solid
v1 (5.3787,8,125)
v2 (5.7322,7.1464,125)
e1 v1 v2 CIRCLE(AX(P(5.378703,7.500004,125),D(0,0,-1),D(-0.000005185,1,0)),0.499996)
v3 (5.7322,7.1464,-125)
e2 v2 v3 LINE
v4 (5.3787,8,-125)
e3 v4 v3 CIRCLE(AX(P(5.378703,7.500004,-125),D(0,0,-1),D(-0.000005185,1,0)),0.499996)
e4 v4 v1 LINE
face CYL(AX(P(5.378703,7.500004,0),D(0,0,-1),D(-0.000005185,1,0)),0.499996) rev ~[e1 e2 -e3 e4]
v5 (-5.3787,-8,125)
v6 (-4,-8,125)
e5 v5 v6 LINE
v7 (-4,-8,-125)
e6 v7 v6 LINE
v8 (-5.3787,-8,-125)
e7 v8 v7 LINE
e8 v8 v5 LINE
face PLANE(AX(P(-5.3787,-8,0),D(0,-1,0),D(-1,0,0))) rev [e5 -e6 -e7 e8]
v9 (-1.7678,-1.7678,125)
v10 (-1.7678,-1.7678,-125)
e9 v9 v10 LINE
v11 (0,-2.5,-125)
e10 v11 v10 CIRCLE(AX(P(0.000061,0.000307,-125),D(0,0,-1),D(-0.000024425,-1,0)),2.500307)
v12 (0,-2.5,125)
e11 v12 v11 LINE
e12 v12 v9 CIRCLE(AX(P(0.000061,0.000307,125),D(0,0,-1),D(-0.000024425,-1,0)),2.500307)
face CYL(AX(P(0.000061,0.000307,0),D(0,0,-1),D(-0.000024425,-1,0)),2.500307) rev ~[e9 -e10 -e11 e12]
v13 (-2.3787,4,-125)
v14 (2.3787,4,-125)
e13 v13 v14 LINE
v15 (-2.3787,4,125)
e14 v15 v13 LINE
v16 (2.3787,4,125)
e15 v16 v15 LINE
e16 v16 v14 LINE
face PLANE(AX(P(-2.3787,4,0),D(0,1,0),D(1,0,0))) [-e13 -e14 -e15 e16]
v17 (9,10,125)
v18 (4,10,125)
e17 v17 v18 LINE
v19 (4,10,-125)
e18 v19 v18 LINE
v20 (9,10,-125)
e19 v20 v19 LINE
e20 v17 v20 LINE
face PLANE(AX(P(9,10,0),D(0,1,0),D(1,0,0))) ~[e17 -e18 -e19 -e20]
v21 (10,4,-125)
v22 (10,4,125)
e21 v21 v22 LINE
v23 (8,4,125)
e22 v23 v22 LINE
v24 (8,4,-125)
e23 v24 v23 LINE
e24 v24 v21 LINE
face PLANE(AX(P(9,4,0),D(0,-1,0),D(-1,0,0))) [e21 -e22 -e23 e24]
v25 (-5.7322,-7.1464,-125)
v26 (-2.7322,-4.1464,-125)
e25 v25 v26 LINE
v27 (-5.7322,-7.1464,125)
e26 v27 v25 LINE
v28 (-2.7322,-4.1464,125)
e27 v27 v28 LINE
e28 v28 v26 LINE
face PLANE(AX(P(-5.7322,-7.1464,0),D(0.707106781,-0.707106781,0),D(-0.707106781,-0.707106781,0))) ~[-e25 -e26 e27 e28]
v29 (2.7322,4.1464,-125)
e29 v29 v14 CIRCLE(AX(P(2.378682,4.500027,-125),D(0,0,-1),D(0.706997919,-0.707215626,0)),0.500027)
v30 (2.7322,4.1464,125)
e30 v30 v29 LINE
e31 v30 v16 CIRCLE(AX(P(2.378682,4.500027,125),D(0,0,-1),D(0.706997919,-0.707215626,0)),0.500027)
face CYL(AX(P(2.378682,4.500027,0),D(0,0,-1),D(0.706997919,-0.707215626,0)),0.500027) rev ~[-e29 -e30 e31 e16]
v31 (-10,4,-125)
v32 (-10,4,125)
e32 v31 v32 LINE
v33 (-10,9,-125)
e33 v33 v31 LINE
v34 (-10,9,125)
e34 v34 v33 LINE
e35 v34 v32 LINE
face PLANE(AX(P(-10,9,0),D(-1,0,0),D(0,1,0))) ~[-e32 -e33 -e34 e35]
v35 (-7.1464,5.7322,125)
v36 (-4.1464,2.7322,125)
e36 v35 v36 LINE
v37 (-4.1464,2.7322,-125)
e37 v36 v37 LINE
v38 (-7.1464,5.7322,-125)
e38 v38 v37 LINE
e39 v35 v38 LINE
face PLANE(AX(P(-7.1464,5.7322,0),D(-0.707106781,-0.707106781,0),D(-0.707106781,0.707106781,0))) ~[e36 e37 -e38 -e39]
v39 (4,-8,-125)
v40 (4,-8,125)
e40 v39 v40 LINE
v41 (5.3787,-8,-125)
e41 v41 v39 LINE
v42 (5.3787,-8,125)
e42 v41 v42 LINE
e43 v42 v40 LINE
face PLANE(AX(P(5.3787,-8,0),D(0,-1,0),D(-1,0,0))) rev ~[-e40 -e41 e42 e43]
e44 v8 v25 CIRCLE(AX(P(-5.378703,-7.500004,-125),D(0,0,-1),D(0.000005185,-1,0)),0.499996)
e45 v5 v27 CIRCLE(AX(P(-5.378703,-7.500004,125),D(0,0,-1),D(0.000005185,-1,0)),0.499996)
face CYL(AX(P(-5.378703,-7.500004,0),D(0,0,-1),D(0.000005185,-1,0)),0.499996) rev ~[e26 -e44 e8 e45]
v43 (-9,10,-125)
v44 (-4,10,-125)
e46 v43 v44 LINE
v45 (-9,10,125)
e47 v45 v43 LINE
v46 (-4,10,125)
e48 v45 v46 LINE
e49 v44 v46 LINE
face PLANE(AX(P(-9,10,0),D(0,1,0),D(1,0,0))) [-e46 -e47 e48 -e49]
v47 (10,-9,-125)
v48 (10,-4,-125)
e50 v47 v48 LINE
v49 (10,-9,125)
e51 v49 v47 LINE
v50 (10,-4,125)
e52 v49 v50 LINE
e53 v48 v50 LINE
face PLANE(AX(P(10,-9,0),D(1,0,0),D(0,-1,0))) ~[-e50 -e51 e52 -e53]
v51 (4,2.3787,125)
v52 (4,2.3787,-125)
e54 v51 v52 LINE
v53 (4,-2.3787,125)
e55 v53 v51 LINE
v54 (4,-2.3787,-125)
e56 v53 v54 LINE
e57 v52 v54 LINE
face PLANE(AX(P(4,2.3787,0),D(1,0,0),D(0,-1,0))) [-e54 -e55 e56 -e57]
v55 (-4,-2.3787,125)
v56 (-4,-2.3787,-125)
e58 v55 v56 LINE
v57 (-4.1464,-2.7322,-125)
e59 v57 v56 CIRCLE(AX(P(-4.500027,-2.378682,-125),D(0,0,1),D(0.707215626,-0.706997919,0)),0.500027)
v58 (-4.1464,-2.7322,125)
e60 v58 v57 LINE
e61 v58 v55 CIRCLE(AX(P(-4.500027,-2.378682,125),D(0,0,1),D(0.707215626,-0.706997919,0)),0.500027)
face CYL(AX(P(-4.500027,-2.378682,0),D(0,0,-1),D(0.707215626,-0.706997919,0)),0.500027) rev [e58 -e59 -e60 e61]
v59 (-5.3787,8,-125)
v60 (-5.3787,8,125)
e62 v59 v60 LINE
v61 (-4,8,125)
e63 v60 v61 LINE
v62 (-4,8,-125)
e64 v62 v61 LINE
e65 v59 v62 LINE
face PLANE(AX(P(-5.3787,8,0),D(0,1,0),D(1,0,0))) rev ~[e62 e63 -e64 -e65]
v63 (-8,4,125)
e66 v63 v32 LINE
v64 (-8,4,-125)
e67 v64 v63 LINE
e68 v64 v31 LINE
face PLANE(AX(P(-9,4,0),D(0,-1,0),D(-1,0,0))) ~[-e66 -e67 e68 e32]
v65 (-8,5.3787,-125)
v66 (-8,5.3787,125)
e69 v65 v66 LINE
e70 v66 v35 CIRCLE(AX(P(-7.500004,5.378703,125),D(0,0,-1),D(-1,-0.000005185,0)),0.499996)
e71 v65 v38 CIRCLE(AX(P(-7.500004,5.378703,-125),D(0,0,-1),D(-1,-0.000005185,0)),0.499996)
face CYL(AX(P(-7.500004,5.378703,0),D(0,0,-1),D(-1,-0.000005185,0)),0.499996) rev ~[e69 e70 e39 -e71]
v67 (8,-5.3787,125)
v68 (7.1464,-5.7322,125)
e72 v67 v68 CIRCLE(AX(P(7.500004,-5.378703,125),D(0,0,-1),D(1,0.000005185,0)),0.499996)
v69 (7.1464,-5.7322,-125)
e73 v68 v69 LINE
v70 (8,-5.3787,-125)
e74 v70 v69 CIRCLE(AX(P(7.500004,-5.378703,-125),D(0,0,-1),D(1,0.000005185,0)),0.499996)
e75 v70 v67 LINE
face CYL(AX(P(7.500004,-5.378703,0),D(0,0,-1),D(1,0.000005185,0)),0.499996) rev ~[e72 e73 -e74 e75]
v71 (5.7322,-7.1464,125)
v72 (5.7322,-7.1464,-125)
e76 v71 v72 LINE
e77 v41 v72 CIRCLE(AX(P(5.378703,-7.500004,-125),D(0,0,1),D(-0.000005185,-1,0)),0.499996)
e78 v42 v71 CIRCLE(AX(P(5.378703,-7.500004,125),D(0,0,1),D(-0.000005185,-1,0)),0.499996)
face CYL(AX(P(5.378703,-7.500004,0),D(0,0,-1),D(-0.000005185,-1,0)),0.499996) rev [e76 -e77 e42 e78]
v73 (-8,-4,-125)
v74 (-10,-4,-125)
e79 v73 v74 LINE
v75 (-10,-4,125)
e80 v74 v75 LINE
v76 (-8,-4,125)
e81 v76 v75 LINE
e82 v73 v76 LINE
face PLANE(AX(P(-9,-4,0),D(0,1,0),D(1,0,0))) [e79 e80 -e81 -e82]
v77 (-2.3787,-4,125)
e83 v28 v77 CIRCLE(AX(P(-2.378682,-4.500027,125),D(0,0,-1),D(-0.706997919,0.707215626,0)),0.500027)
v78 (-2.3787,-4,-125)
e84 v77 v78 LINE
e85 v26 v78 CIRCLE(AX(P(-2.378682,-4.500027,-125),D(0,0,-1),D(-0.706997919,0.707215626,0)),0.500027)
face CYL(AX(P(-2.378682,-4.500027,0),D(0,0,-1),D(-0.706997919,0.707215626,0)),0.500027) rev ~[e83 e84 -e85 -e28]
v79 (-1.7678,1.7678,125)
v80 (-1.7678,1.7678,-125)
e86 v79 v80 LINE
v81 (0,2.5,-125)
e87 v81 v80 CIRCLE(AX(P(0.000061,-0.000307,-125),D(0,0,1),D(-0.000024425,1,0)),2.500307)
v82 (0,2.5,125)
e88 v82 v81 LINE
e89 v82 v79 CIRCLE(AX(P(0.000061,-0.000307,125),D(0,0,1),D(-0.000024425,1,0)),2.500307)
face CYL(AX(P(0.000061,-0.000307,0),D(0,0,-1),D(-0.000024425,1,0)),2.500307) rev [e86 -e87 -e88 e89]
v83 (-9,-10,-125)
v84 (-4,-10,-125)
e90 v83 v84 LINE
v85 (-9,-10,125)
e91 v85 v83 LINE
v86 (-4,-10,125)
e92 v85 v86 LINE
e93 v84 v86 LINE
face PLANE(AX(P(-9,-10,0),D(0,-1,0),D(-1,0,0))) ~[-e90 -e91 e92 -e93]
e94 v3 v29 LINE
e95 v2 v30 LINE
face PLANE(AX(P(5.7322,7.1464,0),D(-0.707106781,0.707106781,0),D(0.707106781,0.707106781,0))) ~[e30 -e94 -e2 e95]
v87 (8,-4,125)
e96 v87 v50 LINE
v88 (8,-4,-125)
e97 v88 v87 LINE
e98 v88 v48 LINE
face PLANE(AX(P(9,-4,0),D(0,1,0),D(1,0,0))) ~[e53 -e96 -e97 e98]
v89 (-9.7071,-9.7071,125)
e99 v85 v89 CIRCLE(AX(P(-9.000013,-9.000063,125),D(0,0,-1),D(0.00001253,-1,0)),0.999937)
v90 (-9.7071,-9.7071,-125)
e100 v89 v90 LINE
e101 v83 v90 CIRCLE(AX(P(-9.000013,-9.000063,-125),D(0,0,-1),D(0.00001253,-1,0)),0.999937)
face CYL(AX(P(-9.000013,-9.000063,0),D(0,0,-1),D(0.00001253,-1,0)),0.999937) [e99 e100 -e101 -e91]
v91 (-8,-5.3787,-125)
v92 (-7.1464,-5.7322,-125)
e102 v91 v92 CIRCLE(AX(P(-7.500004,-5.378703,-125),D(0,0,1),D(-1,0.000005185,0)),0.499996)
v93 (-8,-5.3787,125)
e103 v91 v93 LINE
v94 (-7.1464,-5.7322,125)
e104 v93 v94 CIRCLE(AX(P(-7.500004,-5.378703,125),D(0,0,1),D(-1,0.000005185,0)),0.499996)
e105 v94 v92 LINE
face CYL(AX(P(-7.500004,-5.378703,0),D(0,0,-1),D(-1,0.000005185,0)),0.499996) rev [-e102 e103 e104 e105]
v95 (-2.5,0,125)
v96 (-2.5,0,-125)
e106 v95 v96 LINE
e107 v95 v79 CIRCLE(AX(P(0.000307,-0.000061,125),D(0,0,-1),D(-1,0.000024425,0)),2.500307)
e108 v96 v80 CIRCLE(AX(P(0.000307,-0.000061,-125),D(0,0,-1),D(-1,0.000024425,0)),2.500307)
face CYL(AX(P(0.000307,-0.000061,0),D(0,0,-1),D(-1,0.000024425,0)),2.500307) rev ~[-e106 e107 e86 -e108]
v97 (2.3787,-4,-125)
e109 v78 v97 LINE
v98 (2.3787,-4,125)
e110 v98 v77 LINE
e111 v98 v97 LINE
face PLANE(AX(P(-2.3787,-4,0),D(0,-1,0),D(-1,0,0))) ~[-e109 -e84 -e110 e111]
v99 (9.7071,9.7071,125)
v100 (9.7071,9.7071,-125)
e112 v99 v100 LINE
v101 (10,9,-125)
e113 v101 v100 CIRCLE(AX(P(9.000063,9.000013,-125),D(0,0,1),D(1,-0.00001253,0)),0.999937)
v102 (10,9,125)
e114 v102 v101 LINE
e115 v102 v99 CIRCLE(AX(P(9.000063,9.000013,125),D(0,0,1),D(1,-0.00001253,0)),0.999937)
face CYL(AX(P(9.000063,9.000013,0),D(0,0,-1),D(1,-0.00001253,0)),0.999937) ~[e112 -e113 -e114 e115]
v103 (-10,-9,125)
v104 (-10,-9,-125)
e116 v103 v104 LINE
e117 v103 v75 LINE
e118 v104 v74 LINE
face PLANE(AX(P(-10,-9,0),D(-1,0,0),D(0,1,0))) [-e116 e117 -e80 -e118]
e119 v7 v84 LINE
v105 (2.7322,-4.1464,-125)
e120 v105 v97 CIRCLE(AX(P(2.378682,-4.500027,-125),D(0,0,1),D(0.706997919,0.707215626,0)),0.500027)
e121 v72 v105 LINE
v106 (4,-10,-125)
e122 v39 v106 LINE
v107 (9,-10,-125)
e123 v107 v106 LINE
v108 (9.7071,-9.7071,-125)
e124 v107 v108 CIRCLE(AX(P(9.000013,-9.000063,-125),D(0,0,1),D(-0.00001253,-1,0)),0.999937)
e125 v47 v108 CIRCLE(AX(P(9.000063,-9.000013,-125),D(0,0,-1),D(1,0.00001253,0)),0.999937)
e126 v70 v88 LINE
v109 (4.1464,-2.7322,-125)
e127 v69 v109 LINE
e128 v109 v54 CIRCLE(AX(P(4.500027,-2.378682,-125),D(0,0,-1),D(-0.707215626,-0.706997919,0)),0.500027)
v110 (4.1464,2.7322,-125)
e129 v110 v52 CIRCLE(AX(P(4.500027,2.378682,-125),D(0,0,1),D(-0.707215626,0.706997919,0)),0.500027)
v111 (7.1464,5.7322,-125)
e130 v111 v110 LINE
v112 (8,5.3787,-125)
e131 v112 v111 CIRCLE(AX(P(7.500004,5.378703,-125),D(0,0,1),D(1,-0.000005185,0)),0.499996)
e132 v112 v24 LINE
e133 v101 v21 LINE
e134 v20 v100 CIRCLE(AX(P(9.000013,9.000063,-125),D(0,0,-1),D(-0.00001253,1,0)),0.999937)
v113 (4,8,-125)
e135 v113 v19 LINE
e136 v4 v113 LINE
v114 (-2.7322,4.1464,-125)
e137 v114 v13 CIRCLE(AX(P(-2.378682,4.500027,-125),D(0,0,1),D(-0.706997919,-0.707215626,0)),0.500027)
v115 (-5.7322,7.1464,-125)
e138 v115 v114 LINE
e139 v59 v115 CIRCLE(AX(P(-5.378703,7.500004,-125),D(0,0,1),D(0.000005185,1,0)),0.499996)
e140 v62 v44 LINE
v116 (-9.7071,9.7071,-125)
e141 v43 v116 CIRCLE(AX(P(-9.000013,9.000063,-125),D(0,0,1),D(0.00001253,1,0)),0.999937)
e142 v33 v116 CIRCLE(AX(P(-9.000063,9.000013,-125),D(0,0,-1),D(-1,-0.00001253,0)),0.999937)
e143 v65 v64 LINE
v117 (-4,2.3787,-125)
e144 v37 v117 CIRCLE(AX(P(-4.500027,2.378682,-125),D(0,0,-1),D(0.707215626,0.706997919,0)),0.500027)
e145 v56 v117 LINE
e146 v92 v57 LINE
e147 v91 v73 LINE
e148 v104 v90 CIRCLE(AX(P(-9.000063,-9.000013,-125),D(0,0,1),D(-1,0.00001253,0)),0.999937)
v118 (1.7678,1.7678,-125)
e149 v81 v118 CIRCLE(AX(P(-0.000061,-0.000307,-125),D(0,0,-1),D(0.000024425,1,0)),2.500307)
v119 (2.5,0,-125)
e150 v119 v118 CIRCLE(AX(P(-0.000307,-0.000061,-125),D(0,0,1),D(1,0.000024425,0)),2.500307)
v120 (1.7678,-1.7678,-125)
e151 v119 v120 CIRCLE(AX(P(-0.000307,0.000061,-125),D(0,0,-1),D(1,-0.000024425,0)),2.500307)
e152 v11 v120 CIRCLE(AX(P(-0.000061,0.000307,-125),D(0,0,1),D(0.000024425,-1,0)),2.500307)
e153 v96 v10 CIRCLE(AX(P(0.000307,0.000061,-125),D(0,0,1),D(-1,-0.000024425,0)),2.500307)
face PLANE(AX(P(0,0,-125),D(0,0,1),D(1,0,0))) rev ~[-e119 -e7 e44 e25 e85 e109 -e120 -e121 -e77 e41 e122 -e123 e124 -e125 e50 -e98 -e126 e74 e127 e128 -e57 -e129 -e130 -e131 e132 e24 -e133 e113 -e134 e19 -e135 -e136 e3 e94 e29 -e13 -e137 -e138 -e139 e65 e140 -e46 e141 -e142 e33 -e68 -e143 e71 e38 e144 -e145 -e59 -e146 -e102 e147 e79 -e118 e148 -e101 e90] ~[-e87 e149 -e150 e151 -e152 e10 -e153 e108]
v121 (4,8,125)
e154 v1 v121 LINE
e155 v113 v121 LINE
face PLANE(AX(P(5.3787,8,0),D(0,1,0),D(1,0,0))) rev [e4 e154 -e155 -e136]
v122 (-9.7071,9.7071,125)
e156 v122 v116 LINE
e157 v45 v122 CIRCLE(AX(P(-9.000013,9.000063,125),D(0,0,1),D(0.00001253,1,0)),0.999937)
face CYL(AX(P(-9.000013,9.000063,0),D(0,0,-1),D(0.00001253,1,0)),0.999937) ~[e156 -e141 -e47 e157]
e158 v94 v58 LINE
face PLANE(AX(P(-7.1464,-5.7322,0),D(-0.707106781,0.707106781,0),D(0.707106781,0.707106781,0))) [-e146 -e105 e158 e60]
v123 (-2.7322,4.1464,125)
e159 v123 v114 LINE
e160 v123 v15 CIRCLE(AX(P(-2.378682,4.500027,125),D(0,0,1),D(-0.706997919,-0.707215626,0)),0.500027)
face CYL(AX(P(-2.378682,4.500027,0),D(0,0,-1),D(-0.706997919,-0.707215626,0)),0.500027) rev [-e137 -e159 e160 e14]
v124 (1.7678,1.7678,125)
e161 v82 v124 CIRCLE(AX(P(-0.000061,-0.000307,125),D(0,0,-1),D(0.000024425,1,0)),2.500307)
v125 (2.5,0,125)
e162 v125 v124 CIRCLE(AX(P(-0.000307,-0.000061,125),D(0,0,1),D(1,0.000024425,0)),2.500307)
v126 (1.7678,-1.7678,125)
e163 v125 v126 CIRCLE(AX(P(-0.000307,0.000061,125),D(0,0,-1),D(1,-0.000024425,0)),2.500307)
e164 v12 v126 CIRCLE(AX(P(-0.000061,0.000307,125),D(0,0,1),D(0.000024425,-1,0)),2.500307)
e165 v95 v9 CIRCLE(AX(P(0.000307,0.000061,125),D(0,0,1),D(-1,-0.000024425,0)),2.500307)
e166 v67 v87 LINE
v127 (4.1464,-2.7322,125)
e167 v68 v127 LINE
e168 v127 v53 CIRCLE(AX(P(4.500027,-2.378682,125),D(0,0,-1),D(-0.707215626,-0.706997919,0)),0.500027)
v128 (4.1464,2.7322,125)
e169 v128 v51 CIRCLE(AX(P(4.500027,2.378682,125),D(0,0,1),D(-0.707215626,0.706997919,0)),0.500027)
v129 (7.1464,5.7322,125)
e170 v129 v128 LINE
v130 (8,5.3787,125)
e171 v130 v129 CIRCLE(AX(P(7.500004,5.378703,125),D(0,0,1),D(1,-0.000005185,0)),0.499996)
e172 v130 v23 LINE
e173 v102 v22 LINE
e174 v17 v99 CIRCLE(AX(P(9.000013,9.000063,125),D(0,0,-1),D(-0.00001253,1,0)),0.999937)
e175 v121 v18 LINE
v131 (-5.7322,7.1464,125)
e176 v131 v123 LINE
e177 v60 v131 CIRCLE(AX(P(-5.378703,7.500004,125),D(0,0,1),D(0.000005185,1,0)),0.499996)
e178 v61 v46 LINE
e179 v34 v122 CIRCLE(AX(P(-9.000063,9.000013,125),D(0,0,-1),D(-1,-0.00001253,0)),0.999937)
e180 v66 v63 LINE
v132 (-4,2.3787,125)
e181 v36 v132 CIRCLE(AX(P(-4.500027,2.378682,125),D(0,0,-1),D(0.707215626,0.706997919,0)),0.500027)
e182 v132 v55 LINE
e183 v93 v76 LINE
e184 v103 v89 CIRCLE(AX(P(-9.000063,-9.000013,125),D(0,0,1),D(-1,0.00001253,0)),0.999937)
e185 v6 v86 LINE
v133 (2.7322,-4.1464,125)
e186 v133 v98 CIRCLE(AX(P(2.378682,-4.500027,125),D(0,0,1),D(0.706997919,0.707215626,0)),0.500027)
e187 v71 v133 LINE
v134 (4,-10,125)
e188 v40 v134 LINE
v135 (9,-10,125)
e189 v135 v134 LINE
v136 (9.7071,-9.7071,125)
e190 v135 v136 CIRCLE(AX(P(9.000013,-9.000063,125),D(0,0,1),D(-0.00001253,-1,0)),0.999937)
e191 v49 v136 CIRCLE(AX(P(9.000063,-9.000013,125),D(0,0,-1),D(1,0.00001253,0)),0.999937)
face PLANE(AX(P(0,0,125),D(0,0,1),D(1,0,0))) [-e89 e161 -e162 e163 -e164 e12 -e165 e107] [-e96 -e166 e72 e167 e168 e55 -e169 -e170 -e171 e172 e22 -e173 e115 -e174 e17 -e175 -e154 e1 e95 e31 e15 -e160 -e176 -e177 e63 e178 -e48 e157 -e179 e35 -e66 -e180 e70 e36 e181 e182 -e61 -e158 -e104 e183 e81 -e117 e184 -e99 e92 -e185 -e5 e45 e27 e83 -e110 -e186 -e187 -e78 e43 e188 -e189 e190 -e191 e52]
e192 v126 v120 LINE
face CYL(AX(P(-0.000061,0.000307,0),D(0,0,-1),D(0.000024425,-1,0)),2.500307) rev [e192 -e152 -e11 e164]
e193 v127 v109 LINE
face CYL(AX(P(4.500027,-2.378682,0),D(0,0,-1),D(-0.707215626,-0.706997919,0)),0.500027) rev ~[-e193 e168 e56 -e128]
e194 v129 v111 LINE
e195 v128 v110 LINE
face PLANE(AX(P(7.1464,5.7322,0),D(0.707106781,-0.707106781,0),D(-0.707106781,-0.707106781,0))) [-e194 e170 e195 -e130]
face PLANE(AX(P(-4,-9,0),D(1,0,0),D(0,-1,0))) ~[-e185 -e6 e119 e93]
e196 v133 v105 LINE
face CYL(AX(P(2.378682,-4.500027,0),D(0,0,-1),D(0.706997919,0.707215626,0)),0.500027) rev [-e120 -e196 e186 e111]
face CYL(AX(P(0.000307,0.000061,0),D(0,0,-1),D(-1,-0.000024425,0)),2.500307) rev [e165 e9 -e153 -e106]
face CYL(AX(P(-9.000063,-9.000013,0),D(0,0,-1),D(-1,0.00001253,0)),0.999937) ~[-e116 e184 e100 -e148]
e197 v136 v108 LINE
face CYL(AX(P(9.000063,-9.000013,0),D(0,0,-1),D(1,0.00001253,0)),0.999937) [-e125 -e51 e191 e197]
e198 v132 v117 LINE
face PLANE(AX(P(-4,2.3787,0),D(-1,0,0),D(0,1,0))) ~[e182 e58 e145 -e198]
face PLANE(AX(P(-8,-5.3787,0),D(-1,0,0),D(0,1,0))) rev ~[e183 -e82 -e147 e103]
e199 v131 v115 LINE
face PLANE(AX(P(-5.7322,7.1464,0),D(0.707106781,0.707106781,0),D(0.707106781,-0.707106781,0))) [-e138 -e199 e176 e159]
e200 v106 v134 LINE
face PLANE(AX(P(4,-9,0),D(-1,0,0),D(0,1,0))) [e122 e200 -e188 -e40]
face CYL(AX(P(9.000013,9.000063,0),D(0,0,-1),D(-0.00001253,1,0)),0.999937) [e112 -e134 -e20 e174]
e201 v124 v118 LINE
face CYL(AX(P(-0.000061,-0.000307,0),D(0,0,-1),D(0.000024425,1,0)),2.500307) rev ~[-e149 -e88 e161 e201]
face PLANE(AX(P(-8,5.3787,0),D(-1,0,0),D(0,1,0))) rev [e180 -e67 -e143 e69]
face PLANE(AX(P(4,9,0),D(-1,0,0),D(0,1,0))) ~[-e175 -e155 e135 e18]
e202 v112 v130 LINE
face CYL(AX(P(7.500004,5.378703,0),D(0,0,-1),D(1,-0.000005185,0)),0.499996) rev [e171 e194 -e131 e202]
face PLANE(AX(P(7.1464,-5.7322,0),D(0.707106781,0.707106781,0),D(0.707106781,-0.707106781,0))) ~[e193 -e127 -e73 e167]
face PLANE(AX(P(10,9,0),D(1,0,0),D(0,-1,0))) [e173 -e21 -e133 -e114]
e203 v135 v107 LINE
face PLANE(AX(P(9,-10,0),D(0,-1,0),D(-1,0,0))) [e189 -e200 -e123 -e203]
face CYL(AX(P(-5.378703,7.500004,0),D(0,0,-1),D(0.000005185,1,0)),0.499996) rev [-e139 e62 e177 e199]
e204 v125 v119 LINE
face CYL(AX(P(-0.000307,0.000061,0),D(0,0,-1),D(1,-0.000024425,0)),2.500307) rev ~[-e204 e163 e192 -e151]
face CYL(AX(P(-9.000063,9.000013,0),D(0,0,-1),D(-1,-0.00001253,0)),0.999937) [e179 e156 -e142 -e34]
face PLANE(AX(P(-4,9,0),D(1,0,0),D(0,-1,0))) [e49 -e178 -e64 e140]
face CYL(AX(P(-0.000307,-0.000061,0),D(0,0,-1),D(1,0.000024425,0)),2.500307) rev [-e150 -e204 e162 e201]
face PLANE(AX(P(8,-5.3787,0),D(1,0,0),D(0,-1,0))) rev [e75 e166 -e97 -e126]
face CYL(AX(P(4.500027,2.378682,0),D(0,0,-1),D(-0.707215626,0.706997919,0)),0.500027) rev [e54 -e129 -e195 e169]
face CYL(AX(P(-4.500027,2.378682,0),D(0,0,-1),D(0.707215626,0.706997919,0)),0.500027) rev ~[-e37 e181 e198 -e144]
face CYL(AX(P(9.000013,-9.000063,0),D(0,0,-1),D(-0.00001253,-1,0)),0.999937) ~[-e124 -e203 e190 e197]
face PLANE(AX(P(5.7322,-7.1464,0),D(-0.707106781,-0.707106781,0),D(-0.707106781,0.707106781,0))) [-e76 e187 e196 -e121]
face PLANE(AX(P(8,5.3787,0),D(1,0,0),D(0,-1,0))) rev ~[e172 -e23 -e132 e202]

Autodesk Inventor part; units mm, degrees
sketch "Esboço1" plane through (0, 0, 0) normal (0, 0, 1) x (1, 0, 0)
  line L0 (-10, 10) -> (10, 10) construction
  circle A0 centre (0, 0) radius 2.5 construction
  line L1 (-4, 4) -> (4, 4) construction
  line L2 (-4, 4) -> (-4, -4) construction
  line L3 (-10, 10) -> (0, 0) construction
  line L4 (-2.5858, 4) -> (-6.5858, 8) construction
  line L5 (-6.5858, 8) -> (0, 8) construction
  arc A1 (-5.3787, 8) -> (-5.7322, 7.1464) centre (-5.3787, 7.5) ccw
  arc A2 (-2.7322, 4.1464) -> (-2.3787, 4) centre (-2.3787, 4.5) ccw
  line L6 (0, 4) -> (-4, 4) construction
  line L7 (-2.3787, 4) -> (0, 4)
  line L8 (-4, 10) -> (-4, 8) construction
  line L9 (-5.3787, 8) -> (-4, 8)
  line L10 (-5.7322, 7.1464) -> (-2.7322, 4.1464)
  line L11 (-4, 10) -> (-4, 9) construction
  line L12 (-4, 9) -> (-4, 9) construction
  line L13 (-4, 10) -> (-4, 9)
  line L14 (-4, 9) -> (-4, 9)
  line L15 (-4, 9) -> (-4, 8)
  line L16 (0, 4) -> (0, 2.5)
  arc A3 (-9, 10) -> (-9.7071, 9.7071) centre (-9, 9) ccw
  line L17 (-9, 10) -> (-4, 10)
  line L18 (-9.7071, 9.7071) -> (-1.7678, 1.7678)
  arc A4 (0, 2.5) -> (-1.7678, 1.7678) centre (0, 0) ccw
  line L19 (-4, 10) -> (-9, 10)
  line L20 (10, 10) -> (10, -10) construction
  line L21 (10, 10) -> (30, 10) construction
  line L22 (20, 10) -> (20, -10) construction
  arc A5 (25.7322, 7.1464) -> (25.3787, 8) centre (25.3787, 7.5) ccw
  arc A6 (22.3787, 4) -> (22.7322, 4.1464) centre (22.3787, 4.5) ccw
  line L23 (22.3787, 4) -> (20, 4)
  line L24 (25.3787, 8) -> (24, 8)
  line L25 (25.7322, 7.1464) -> (22.7322, 4.1464)
  line L26 (24, 10) -> (24, 9)
  line L27 (24, 9) -> (24, 8)
  line L28 (20, 4) -> (20, 2.5)
  arc A7 (29.7071, 9.7071) -> (29, 10) centre (29, 9) ccw
  line L29 (29.7071, 9.7071) -> (21.7678, 1.7678)
  line L30 (24, 10) -> (29, 10)
  line L31 (10, 0) -> (30, 0) construction
  line L32 (29.7071, -9.7071) -> (21.7678, -1.7678)
  line L33 (25.7322, -7.1464) -> (22.7322, -4.1464)
  line L34 (24, -10) -> (29, -10)
  line L35 (24, -10) -> (24, -9)
  line L36 (24, -9) -> (24, -8)
  line L37 (25.3787, -8) -> (24, -8)
  arc A8 (17.2678, 4.1464) -> (17.6213, 4) centre (17.6213, 4.5) ccw
  line L38 (17.6213, 4) -> (20, 4)
  arc A9 (29, -10) -> (29.7071, -9.7071) centre (29, -9) ccw
  arc A10 (25.3787, -8) -> (25.7322, -7.1464) centre (25.3787, -7.5) ccw
  arc A11 (22.7322, -4.1464) -> (22.3787, -4) centre (22.3787, -4.5) ccw
  line L39 (22.3787, -4) -> (20, -4)
  line L40 (20, -4) -> (20, -2.5)
  arc A12 (29.7071, 9.7071) -> (29, 10) centre (29, 9) ccw
  line L41 (30, 0) -> (30, -10) construction
  line L42 (16, 10) -> (16, 9)
  line L43 (16, 9) -> (16, 8)
  line L44 (14.6213, 8) -> (16, 8)
  arc A13 (14.6213, 8) -> (14.2678, 7.1464) centre (14.6213, 7.5) ccw
  line L45 (14.2678, 7.1464) -> (17.2678, 4.1464)
  line L46 (10.2929, 9.7071) -> (18.2322, 1.7678)
  line L47 (16, 10) -> (11, 10)
  arc A14 (11, 10) -> (10.2929, 9.7071) centre (11, 9) ccw
  circle A15 centre (20, 0) radius 2.5
  arc A16 (29.7071, 9.7071) -> (29, 10) centre (29, 9) ccw
  arc A17 (29, -10) -> (29.7071, -9.7071) centre (29, -9) ccw
  line L48 (27.1464, -5.7322) -> (24.1464, -2.7322)
  line L49 (27.1464, -5.7322) -> (24.1464, -2.7322)
  line L50 (28, -5.3787) -> (28, -4)
  line L51 (30, -4) -> (29, -4)
  line L52 (29, -4) -> (28, -4)
  line L53 (30, -4) -> (30, -9)
  arc A18 (29.7071, -9.7071) -> (30, -9) centre (29, -9) ccw
  arc A19 (27.1464, -5.7322) -> (28, -5.3787) centre (27.5, -5.3787) ccw
  arc A20 (24, -2.3787) -> (24.1464, -2.7322) centre (24.5, -2.3787) ccw
  line L54 (24, -2.3787) -> (24, 0)
  line L55 (24, 0) -> (22.5, 0)
  line L56 (30, 4) -> (30, 9)
  arc A21 (30, 9) -> (29.7071, 9.7071) centre (29, 9) ccw
  line L57 (30, 4) -> (29, 4)
  line L58 (29, 4) -> (28, 4)
  line L59 (28, 5.3787) -> (28, 4)
  arc A22 (28, 5.3787) -> (27.1464, 5.7322) centre (27.5, 5.3787) ccw
  line L60 (27.1464, 5.7322) -> (24.1464, 2.7322)
  arc A23 (24.1464, 2.7322) -> (24, 2.3787) centre (24.5, 2.3787) ccw
  line L61 (24, 2.3787) -> (24, 0)
  line L62 (24, 0) -> (22.5, 0)
  line L63 (16, 0) -> (17.5, 0)
  line L64 (16, 2.3787) -> (16, 0)
  arc A24 (16, 2.3787) -> (15.8536, 2.7322) centre (15.5, 2.3787) ccw
  line L65 (12.8536, 5.7322) -> (15.8536, 2.7322)
  arc A25 (12.8536, 5.7322) -> (12, 5.3787) centre (12.5, 5.3787) ccw
  line L66 (12, 5.3787) -> (12, 4)
  line L67 (11, 4) -> (12, 4)
  line L68 (10, 4) -> (11, 4)
  line L69 (10, 4) -> (10, 9)
  arc A26 (10.2929, 9.7071) -> (10, 9) centre (11, 9) ccw
  line L70 (10.2929, -9.7071) -> (18.2322, -1.7678)
  line L71 (16, -2.3787) -> (16, 0)
  line L72 (12.8536, -5.7322) -> (15.8536, -2.7322)
  arc A27 (15.8536, -2.7322) -> (16, -2.3787) centre (15.5, -2.3787) ccw
  arc A28 (12, -5.3787) -> (12.8536, -5.7322) centre (12.5, -5.3787) ccw
  line L73 (12, -5.3787) -> (12, -4)
  line L74 (11, -4) -> (12, -4)
  line L75 (10, -4) -> (11, -4)
  line L76 (10, -4) -> (10, -9)
  arc A29 (10, -9) -> (10.2929, -9.7071) centre (11, -9) ccw
  line L77 (30, -10) -> (10, -10) construction
  line L78 (20, -4) -> (20, -2.5)
  line L79 (14.2678, -7.1464) -> (17.2678, -4.1464)
  arc A30 (17.6213, -4) -> (17.2678, -4.1464) centre (17.6213, -4.5) ccw
  line L80 (17.6213, -4) -> (20, -4)
  line L81 (14.6213, -8) -> (16, -8)
  arc A31 (14.2678, -7.1464) -> (14.6213, -8) centre (14.6213, -7.5) ccw
  line L82 (16, -9) -> (16, -8)
  line L83 (16, -10) -> (16, -9)
  line L84 (16, -10) -> (11, -10)
  arc A32 (10.2929, -9.7071) -> (11, -10) centre (11, -9) ccw
  line L85 (0, 10) -> (0, -11) construction
  line L86 (10, 0) -> (-11, 0) construction
  arc A33 (-4, 2.3787) -> (-4.1464, 2.7322) centre (-4.5, 2.3787) ccw
  line L87 (-4, 0) -> (-2.5, 0)
  arc A34 (-1.7678, 1.7678) -> (-2.5, 0) centre (0, 0) ccw
  point P0 (-5, 5)
  point P1 (-5.8406, 7.6913)
  point P2 (-9.3827, 9.9239)
  point P3 (-6.5, 10)
  point P4 (-4, 2.5858)
  dimension "d1" = 10
  dimension "d2" = 5
  dimension "d5" = 20
  dimension "d10" = 1
  dimension "d11" = 2
  dimension "d17" = 6
  dimension "d18" = 0.5
  dimension "d24" = 1
  dimension "d25" = 0.5
  dimension "d41" = 20
  dimension "d42" = 20
  dimension "d43" = 20
  dimension "d46" = 10
  dimension "d47" = 10
extrude "Extrusão1" add sketch "Esboço1" along normal mid plane 250 contours A1 L10 A2 L7 L16 A4 L18 A3 L17 L13 L15 L9
mirror "Espelhar1" about plane through (-9.7071, 9.7071, 0) normal (-0.7071, -0.7071, 0)
mirror "Espelhar2" about plane through (0, 0, 0) normal (1, 0, 0)
mirror "Espelhar3" about plane through (0, 0, 0) normal (0, 1, 0)
properties part number "Ext_001" material "Aço galvanizado"
